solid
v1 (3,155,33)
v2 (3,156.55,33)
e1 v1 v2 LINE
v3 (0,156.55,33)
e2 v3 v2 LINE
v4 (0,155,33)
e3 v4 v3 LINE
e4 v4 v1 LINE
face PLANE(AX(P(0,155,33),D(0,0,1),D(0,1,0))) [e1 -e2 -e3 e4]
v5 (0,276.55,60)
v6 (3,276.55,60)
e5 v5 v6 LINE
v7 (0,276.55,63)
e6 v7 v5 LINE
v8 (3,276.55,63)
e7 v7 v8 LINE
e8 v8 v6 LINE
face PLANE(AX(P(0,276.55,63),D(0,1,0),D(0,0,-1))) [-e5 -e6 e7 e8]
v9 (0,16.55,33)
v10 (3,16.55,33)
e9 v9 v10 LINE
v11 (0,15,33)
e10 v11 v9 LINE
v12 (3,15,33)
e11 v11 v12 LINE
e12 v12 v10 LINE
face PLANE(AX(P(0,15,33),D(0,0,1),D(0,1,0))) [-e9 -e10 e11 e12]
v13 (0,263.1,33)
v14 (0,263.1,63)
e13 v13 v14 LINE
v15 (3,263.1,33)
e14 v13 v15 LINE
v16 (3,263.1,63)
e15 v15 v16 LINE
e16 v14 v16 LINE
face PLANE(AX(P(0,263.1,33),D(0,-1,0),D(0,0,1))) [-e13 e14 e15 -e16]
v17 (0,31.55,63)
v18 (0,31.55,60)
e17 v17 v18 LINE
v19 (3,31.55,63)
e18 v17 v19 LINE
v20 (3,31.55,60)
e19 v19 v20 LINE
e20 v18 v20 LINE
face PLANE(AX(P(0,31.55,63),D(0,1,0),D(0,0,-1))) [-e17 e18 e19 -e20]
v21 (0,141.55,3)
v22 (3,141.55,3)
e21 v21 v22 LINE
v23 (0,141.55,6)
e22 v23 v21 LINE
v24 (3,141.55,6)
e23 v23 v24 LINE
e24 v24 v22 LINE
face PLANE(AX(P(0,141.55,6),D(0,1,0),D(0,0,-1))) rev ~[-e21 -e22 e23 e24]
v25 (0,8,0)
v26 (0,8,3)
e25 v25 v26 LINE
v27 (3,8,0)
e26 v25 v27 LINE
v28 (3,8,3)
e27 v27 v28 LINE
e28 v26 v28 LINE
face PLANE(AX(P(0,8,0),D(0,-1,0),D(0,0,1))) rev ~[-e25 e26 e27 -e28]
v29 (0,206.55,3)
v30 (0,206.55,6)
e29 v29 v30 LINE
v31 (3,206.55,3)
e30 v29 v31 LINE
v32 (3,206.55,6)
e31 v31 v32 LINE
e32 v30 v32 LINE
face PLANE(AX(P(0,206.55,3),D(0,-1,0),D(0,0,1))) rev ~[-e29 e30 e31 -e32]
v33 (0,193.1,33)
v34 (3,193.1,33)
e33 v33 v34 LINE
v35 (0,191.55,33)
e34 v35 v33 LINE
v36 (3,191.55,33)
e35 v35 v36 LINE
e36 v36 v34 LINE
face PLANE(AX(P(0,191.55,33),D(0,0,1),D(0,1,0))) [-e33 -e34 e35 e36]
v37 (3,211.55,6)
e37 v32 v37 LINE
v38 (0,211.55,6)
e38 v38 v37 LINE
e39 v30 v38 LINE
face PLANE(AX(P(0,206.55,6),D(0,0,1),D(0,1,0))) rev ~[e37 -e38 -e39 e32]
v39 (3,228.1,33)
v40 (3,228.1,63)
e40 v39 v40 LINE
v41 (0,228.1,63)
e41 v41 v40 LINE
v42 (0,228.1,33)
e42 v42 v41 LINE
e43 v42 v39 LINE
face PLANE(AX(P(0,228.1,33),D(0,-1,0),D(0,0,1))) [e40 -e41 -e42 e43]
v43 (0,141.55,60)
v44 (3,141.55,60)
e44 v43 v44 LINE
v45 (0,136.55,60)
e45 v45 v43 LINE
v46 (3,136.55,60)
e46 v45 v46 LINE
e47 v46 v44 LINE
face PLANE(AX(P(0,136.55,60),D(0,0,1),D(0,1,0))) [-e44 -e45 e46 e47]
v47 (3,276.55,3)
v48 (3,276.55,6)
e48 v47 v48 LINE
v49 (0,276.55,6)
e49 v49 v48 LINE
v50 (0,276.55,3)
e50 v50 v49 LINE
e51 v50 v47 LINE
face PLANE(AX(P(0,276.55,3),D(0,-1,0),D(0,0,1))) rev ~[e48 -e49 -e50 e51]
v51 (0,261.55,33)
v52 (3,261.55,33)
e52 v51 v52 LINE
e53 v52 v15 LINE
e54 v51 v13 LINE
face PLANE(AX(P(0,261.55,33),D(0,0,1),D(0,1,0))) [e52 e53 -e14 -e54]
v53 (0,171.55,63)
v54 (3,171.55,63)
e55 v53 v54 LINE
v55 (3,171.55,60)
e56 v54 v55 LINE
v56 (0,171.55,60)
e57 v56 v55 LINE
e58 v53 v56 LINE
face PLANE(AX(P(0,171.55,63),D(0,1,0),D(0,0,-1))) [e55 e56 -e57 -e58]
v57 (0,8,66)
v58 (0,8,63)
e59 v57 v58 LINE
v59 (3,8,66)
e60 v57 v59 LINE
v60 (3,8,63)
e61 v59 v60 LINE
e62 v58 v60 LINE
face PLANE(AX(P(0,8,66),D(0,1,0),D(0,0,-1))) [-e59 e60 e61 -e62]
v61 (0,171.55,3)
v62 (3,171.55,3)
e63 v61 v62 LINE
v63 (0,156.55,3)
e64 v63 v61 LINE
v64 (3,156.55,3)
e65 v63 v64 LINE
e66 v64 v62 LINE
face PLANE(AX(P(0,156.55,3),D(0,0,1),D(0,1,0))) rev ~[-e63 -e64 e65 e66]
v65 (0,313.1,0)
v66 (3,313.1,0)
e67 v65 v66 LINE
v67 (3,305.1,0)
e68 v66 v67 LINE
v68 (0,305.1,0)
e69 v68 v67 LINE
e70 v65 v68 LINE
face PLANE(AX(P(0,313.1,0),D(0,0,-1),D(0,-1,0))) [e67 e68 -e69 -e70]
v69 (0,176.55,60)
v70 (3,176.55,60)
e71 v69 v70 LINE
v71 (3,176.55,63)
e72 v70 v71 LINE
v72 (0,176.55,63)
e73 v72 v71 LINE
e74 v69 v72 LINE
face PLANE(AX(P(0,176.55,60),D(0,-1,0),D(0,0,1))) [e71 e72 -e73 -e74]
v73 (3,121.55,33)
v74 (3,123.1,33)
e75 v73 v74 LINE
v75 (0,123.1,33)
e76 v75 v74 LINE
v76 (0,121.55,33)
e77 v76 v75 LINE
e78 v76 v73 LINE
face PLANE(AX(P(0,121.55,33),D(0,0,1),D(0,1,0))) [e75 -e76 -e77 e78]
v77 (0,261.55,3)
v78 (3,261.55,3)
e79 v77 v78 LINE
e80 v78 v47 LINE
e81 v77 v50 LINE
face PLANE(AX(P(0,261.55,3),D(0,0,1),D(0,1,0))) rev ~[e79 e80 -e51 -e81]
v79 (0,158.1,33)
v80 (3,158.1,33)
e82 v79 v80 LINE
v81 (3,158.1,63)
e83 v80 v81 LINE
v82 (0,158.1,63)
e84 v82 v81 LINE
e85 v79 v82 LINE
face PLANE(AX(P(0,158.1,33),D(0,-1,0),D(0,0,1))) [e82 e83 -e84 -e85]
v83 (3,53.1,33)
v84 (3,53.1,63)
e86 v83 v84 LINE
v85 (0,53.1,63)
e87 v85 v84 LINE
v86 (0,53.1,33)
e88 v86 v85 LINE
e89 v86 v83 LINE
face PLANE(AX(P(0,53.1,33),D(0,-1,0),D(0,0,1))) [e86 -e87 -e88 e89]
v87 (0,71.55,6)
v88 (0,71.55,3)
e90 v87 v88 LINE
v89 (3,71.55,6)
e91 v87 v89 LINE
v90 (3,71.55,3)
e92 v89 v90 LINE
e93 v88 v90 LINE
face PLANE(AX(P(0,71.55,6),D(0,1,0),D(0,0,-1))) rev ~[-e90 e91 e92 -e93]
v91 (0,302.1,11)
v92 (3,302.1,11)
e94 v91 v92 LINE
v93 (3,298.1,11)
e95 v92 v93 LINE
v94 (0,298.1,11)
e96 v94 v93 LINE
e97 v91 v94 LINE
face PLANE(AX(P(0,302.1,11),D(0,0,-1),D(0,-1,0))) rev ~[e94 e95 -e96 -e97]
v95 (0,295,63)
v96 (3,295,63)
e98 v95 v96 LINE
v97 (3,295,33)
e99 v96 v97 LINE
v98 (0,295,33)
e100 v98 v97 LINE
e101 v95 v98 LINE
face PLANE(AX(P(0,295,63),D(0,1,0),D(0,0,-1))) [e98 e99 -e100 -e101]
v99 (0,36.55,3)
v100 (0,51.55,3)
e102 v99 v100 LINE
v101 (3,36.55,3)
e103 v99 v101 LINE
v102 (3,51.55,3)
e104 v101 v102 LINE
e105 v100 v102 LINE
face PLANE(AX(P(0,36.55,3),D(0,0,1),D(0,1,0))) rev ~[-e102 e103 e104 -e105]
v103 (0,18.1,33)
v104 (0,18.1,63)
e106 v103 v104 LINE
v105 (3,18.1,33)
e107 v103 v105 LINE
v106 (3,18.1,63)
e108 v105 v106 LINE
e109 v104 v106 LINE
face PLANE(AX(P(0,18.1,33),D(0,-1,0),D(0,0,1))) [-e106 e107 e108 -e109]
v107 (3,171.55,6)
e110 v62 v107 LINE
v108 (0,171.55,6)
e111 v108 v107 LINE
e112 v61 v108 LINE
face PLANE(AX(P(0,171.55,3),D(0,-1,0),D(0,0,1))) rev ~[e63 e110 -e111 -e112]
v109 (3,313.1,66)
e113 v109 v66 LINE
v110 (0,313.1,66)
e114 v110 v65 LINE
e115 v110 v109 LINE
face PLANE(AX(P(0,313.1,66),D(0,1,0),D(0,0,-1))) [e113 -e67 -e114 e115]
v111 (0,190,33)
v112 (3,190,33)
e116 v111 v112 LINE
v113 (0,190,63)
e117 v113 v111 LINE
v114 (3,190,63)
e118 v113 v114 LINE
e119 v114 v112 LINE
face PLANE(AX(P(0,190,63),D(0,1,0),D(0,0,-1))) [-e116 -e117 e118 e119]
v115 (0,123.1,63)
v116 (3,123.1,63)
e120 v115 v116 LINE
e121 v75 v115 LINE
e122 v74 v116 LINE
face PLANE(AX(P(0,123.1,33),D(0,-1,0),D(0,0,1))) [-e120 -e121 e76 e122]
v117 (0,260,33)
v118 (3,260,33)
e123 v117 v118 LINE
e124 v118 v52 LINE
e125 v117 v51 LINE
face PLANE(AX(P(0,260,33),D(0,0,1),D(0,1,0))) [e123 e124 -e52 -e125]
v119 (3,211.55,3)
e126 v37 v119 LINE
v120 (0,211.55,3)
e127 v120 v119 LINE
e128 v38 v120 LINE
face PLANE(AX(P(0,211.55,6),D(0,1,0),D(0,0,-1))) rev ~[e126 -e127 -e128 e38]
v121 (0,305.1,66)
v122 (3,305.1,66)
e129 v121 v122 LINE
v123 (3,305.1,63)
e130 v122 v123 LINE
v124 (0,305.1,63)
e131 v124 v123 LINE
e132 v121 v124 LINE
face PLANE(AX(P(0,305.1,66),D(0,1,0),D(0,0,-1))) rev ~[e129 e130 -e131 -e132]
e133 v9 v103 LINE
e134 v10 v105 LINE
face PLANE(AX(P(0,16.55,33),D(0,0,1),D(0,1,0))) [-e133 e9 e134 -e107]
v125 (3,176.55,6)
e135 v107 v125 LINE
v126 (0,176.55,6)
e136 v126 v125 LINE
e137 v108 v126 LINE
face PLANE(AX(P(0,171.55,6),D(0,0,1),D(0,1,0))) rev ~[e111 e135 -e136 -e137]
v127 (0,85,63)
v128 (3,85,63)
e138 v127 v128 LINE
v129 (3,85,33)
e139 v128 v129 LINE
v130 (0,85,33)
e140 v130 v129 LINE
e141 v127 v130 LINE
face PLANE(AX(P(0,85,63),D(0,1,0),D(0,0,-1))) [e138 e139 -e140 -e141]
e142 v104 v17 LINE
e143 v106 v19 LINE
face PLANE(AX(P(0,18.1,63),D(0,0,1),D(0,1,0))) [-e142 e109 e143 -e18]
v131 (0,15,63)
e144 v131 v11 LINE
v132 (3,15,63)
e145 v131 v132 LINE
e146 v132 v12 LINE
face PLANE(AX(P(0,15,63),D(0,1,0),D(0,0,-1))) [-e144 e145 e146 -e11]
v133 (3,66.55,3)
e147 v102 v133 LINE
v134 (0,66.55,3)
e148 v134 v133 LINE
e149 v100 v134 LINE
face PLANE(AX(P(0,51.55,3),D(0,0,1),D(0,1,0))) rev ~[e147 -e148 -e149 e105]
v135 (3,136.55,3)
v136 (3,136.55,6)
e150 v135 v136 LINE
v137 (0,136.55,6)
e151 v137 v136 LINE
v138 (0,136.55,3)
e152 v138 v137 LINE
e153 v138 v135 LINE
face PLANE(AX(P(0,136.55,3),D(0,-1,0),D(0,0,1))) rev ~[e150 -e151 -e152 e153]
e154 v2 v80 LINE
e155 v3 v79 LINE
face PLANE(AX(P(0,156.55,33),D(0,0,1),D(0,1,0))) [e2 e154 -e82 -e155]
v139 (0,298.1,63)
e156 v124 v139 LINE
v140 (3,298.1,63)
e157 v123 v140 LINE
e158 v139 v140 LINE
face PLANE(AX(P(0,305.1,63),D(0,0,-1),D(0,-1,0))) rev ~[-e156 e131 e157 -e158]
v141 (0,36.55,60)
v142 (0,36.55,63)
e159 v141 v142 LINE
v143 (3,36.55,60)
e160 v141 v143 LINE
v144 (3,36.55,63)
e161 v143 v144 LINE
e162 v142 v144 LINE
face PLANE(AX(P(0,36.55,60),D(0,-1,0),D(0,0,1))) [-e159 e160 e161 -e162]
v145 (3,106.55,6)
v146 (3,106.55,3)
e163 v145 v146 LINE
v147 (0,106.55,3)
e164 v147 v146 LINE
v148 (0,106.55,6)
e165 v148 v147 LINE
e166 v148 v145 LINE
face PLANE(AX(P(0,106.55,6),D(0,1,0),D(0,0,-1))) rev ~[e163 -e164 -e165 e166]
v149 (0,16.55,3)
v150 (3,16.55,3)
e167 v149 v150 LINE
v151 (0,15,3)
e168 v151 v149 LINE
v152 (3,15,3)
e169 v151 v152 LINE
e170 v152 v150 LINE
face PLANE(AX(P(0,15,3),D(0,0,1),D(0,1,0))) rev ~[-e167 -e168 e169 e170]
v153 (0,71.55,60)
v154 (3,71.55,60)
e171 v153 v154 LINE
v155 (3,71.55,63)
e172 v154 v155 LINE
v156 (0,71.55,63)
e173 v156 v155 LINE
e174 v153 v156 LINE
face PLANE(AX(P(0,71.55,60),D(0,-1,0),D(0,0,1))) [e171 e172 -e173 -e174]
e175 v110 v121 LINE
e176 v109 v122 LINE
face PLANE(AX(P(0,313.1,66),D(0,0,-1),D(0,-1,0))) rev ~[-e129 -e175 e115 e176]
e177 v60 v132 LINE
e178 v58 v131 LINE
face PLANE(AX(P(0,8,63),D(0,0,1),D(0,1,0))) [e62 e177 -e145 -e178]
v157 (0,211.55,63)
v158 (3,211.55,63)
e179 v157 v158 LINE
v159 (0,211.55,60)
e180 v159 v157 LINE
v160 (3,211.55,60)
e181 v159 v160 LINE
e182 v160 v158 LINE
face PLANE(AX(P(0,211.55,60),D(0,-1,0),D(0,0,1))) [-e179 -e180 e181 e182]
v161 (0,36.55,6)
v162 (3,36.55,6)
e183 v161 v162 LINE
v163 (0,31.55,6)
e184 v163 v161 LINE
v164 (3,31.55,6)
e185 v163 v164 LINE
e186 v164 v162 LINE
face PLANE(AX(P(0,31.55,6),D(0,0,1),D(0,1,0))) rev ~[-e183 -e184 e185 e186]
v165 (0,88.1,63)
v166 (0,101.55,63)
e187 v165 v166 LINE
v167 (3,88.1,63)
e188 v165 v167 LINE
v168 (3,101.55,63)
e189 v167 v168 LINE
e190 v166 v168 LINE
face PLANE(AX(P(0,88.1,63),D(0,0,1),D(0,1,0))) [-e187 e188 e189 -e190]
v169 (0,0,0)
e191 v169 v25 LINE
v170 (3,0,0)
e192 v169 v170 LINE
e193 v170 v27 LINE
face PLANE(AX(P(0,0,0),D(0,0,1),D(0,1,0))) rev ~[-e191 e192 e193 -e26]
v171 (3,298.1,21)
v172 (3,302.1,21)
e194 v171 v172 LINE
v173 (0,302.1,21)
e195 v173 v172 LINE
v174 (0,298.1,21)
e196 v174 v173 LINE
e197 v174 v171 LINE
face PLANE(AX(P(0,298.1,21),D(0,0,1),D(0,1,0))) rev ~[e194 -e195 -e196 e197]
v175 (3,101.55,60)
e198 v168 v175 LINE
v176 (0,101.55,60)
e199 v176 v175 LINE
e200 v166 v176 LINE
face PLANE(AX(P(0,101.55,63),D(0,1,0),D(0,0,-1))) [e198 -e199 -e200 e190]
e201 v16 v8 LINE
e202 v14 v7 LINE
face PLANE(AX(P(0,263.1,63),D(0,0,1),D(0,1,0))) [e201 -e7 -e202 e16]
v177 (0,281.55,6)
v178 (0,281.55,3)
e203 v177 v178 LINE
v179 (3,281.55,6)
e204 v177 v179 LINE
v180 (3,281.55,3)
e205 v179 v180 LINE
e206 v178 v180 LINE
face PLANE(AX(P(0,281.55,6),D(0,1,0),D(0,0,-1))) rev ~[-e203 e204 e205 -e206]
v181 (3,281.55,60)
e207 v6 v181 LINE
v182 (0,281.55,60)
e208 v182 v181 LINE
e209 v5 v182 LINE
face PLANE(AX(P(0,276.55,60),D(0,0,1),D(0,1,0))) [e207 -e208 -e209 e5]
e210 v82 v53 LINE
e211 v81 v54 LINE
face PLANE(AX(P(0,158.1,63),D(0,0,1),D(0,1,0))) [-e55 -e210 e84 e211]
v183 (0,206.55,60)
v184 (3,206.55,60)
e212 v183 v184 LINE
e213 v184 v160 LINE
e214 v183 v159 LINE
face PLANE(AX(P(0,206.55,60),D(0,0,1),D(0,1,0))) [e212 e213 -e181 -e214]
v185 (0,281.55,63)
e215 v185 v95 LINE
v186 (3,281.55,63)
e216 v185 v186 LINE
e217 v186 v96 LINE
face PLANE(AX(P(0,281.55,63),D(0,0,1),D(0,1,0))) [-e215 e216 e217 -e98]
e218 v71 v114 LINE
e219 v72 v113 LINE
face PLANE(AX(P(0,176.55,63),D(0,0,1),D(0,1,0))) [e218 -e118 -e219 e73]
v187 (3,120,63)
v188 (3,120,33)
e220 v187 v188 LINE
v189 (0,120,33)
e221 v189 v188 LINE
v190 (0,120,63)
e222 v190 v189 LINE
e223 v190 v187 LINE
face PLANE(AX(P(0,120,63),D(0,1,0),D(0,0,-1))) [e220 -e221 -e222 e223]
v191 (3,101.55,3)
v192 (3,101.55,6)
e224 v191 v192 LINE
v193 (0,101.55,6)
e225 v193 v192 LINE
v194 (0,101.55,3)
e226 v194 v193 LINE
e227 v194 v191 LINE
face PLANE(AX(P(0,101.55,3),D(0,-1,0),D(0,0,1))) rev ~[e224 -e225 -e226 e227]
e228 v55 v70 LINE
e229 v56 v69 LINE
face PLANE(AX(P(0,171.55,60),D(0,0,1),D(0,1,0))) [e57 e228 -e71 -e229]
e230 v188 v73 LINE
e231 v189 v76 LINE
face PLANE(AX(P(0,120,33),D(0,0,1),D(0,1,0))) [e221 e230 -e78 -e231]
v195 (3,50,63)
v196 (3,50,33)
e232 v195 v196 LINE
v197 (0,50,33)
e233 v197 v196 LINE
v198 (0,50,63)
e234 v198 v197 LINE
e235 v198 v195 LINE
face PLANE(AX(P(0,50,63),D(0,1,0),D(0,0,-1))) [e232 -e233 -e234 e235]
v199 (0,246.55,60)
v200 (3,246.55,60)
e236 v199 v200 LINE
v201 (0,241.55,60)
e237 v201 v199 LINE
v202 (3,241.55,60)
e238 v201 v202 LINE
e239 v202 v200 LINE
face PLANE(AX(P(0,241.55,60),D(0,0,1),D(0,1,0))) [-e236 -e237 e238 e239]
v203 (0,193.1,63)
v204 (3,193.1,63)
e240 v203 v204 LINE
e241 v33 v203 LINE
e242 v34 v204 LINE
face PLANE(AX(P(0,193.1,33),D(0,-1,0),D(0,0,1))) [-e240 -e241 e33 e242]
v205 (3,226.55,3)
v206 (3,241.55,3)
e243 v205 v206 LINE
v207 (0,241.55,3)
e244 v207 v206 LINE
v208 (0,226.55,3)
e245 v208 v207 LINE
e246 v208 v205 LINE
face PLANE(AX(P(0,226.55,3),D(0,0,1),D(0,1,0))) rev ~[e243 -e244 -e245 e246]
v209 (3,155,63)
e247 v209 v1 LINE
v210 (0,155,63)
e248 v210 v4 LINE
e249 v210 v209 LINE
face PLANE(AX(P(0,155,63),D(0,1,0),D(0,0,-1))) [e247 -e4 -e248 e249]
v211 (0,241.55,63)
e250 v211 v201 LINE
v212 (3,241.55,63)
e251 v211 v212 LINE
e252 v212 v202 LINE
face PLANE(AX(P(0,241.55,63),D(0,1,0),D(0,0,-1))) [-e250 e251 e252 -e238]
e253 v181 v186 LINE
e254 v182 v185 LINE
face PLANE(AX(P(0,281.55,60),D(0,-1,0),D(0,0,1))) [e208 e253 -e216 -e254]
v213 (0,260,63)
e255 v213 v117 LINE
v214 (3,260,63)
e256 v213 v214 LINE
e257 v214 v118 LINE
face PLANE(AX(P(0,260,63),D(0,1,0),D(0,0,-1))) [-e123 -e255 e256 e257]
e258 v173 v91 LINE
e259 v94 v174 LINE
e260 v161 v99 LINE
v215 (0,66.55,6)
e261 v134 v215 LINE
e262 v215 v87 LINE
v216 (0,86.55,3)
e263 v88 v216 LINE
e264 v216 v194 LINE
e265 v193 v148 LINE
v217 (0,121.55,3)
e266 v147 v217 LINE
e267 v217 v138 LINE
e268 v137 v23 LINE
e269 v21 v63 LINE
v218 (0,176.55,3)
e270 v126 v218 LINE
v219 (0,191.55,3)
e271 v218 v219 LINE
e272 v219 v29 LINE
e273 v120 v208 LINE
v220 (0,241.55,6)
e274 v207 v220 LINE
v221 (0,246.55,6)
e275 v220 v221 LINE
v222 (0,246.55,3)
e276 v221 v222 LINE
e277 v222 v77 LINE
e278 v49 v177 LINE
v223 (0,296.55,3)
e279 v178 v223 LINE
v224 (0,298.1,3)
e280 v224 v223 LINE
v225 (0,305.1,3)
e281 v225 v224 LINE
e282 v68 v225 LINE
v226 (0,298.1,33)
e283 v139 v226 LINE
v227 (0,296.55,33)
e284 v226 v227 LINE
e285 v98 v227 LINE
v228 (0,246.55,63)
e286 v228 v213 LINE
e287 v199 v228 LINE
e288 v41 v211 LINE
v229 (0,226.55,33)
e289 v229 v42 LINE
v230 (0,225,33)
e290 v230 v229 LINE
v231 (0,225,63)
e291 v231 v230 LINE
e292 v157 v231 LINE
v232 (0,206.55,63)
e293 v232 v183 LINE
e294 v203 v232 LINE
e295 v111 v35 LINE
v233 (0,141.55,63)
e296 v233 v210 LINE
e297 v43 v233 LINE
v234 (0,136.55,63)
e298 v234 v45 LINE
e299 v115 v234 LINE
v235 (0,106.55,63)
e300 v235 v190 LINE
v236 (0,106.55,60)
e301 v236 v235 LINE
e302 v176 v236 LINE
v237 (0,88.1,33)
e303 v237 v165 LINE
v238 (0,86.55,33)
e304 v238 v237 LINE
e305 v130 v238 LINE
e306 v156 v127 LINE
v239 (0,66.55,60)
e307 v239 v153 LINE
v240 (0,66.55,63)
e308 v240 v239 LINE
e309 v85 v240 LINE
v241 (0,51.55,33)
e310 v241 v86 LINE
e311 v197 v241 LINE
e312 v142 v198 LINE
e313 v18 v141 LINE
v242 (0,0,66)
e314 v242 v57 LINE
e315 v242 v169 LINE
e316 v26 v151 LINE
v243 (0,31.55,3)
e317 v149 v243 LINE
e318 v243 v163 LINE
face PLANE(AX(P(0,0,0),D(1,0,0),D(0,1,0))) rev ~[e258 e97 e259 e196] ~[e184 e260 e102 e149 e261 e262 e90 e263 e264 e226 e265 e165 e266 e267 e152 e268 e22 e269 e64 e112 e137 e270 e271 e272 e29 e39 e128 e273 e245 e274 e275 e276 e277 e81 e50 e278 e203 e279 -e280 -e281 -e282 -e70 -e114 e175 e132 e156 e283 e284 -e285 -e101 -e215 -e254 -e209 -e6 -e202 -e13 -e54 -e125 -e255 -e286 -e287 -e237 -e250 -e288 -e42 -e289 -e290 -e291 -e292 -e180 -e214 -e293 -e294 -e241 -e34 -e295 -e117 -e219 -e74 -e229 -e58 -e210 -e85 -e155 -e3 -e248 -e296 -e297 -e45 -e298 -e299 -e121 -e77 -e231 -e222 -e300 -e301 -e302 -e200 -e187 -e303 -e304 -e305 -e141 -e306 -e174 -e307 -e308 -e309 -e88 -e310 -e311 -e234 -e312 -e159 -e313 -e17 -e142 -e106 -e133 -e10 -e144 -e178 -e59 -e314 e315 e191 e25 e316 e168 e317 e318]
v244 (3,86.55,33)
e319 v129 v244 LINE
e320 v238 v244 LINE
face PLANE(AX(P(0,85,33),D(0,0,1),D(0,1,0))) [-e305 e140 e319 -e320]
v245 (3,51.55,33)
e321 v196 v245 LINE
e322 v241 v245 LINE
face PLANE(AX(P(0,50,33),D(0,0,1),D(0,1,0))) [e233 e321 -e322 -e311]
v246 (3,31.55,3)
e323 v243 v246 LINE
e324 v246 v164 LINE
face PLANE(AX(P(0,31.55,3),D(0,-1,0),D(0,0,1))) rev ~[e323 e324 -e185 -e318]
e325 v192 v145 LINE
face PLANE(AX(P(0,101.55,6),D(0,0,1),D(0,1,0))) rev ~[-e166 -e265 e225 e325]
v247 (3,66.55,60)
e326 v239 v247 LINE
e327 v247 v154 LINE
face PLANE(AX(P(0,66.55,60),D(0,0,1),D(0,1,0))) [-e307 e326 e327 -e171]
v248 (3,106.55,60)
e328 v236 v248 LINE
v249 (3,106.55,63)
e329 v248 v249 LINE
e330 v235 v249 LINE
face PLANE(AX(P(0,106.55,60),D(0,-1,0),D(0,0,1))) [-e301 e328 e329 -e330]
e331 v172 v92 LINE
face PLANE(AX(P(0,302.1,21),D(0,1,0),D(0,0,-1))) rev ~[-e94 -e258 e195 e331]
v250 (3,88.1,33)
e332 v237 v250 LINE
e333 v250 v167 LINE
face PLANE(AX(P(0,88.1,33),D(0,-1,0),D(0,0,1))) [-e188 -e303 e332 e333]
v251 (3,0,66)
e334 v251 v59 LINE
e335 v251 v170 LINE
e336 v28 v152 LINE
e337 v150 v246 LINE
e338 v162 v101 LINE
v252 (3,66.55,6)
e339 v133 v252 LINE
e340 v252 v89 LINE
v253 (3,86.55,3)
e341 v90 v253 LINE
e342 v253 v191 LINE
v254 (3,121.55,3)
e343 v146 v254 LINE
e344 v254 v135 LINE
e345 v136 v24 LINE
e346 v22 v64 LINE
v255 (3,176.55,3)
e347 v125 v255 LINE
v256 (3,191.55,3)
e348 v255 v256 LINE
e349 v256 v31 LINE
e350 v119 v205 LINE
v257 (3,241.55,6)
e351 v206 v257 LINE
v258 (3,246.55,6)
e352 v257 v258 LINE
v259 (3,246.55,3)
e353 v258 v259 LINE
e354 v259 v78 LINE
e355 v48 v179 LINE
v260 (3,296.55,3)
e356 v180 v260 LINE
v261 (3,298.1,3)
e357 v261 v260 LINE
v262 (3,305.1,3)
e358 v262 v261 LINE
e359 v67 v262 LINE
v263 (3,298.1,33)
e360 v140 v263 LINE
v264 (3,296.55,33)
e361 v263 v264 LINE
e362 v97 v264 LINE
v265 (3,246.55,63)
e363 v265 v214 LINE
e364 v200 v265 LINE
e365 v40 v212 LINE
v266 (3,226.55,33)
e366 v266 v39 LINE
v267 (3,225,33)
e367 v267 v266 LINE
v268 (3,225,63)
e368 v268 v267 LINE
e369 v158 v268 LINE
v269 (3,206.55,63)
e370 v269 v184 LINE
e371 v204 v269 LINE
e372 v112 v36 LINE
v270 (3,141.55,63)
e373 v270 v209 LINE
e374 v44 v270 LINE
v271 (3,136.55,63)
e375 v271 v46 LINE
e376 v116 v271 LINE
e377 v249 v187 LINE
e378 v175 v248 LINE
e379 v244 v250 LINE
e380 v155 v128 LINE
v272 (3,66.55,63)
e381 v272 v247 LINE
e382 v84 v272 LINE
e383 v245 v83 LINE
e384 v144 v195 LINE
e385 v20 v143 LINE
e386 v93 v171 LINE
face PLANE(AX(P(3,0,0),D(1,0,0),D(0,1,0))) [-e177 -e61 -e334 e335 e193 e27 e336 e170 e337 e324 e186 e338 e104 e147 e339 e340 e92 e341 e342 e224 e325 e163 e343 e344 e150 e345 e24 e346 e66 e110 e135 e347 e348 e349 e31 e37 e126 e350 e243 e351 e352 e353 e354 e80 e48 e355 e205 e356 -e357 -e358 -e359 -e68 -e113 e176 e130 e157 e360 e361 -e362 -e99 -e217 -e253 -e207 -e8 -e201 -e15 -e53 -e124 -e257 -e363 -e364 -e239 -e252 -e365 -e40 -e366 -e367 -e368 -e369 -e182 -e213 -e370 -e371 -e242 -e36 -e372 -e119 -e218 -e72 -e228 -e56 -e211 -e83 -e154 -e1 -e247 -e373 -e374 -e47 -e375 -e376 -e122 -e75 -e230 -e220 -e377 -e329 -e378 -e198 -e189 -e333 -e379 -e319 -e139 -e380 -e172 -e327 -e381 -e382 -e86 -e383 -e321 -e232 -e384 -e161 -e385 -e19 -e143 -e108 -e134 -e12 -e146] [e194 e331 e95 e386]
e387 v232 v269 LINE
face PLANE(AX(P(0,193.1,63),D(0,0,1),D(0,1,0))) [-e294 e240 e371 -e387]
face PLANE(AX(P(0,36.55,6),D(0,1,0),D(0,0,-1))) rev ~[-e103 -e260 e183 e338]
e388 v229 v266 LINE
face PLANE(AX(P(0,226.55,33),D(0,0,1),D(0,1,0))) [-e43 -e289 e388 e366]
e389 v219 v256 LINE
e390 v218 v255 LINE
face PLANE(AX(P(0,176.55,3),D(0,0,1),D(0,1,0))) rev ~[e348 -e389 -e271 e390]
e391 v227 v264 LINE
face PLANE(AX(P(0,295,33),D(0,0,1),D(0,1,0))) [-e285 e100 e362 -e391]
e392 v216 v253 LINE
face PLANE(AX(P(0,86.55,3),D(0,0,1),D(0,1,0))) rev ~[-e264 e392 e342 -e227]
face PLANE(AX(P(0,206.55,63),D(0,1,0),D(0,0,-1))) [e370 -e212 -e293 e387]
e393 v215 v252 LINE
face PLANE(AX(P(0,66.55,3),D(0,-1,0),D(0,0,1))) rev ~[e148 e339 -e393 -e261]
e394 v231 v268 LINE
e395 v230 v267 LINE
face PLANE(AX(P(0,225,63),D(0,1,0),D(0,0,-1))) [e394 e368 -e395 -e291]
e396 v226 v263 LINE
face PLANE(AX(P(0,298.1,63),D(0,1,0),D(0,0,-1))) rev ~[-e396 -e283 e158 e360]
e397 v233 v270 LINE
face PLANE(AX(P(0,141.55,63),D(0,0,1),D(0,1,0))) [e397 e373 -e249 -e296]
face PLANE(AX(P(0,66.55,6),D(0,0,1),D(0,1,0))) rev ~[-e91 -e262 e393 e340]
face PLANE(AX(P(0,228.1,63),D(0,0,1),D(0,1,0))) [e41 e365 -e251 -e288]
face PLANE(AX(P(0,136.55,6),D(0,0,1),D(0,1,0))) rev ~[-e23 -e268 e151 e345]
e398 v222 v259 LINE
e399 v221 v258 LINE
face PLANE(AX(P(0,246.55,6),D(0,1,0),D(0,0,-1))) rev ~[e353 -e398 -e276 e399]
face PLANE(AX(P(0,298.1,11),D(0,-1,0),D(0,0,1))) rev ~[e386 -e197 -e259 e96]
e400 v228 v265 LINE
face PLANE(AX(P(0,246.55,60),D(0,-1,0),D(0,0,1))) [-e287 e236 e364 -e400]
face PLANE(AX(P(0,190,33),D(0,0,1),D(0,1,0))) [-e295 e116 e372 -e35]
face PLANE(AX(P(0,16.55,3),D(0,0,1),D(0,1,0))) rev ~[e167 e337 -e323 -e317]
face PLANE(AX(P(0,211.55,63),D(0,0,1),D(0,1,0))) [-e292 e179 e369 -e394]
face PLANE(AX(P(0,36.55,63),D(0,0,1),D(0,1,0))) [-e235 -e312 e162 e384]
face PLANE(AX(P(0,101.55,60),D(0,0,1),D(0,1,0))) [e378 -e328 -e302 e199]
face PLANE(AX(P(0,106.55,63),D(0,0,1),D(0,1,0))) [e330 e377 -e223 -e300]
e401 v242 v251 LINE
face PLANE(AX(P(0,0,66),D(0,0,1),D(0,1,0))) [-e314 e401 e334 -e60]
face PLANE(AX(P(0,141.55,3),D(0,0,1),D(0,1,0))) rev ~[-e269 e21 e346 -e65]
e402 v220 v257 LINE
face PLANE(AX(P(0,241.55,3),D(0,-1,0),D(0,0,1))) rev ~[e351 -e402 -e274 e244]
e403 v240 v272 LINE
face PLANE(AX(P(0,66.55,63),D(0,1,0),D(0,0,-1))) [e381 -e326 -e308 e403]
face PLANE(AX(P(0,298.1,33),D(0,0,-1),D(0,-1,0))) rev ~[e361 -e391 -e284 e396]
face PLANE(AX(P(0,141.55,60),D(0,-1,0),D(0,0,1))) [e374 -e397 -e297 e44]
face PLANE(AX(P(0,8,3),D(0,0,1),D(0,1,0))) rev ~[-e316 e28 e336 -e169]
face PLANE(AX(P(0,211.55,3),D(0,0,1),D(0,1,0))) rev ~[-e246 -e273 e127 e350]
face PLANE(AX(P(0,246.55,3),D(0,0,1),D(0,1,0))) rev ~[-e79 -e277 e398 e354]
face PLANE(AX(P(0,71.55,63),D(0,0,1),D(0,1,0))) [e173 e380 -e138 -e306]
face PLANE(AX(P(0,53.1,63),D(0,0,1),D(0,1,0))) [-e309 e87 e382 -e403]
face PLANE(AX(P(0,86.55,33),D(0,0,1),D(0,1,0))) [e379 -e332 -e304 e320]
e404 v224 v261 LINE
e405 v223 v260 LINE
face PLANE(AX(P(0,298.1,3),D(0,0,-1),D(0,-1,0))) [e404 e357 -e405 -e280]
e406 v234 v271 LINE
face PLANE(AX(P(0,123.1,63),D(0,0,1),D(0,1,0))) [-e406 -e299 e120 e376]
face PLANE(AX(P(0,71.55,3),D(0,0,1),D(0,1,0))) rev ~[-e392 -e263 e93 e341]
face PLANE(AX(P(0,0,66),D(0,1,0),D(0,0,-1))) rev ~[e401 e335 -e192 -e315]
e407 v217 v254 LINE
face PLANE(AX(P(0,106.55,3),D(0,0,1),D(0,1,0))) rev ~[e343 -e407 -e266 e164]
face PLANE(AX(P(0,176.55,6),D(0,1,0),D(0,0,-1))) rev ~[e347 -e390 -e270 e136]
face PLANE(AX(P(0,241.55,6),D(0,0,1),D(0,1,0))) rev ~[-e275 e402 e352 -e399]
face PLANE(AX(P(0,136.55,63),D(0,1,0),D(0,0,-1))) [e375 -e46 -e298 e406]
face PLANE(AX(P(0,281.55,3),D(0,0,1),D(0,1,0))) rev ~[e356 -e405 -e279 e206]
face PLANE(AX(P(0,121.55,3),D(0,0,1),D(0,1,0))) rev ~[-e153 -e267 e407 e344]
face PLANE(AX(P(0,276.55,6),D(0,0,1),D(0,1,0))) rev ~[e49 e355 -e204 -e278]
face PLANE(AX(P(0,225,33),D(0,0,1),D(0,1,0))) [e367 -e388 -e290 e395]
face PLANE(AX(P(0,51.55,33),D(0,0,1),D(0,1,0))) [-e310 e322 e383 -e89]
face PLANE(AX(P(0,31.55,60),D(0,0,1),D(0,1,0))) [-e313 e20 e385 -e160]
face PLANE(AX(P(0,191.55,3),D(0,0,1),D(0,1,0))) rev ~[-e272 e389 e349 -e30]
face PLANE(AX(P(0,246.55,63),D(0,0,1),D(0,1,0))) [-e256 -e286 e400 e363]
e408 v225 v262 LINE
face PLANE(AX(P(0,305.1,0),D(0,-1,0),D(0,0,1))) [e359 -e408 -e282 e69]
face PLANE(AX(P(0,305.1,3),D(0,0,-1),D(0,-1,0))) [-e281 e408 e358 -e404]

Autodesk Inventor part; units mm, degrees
ref_plane "YZ Plane" through (0, 0, 0) normal (1, 0, 0) x (0, 1, 0)
ref_plane "XZ Plane" through (0, 0, 0) normal (0, 1, 0) x (-1, 0, 0)
ref_plane "XY Plane" through (0, 0, 0) normal (0, 0, 1) x (1, 0, 0)
sketch "Sketch1" plane through (0, 0, 0) normal (1, 0, 0) x (0, 1, 0)
  line L0 (0, 66) -> (0, 0)
  line L1 (15, 63) -> (15, 33)
  line L2 (15, 33) -> (16.55, 33)
  line L3 (16.55, 33) -> (18.1, 33)
  line L4 (18.1, 33) -> (18.1, 63)
  line L5 (18.1, 63) -> (31.55, 63)
  line L6 (31.55, 63) -> (31.55, 60)
  line L7 (31.55, 60) -> (36.55, 60)
  line L8 (36.55, 60) -> (36.55, 63)
  line L9 (36.55, 63) -> (50, 63)
  line L10 (50, 63) -> (50, 33)
  line L11 (50, 33) -> (51.55, 33)
  line L12 (16.55, 3) -> (31.55, 3)
  line L13 (31.55, 3) -> (31.55, 6)
  line L14 (31.55, 6) -> (36.55, 6)
  line L15 (36.55, 6) -> (36.55, 3)
  line L16 (36.55, 3) -> (51.55, 3)
  line L17 (51.55, 33) -> (53.1, 33)
  line L18 (53.1, 33) -> (53.1, 63)
  line L19 (53.1, 63) -> (66.55, 63)
  line L20 (66.55, 60) -> (71.55, 60)
  line L21 (66.55, 63) -> (66.55, 60)
  line L22 (71.55, 60) -> (71.55, 63)
  line L23 (71.55, 63) -> (85, 63)
  line L24 (85, 63) -> (85, 33)
  line L25 (85, 33) -> (86.55, 33)
  line L26 (71.55, 3) -> (86.55, 3)
  line L27 (66.55, 6) -> (71.55, 6)
  line L28 (71.55, 6) -> (71.55, 3)
  line L29 (66.55, 3) -> (66.55, 6)
  line L30 (51.55, 3) -> (66.55, 3)
  line L31 (86.55, 33) -> (88.1, 33)
  line L32 (88.1, 33) -> (88.1, 63)
  line L33 (88.1, 63) -> (101.55, 63)
  line L34 (101.55, 60) -> (106.55, 60)
  line L35 (101.55, 63) -> (101.55, 60)
  line L36 (106.55, 60) -> (106.55, 63)
  line L37 (106.55, 63) -> (120, 63)
  line L38 (120, 63) -> (120, 33)
  line L39 (120, 33) -> (121.55, 33)
  line L40 (106.55, 3) -> (121.55, 3)
  line L41 (101.55, 6) -> (106.55, 6)
  line L42 (106.55, 6) -> (106.55, 3)
  line L43 (101.55, 3) -> (101.55, 6)
  line L44 (86.55, 3) -> (101.55, 3)
  line L45 (121.55, 33) -> (123.1, 33)
  line L46 (123.1, 33) -> (123.1, 63)
  line L47 (123.1, 63) -> (136.55, 63)
  line L48 (136.55, 60) -> (141.55, 60)
  line L49 (136.55, 63) -> (136.55, 60)
  line L50 (141.55, 60) -> (141.55, 63)
  line L51 (141.55, 63) -> (155, 63)
  line L52 (155, 63) -> (155, 33)
  line L53 (155, 33) -> (156.55, 33)
  line L54 (141.55, 3) -> (156.55, 3)
  line L55 (136.55, 6) -> (141.55, 6)
  line L56 (141.55, 6) -> (141.55, 3)
  line L57 (136.55, 3) -> (136.55, 6)
  line L58 (121.55, 3) -> (136.55, 3)
  line L59 (156.55, 33) -> (158.1, 33)
  line L60 (158.1, 33) -> (158.1, 63)
  line L61 (158.1, 63) -> (171.55, 63)
  line L62 (171.55, 60) -> (176.55, 60)
  line L63 (171.55, 63) -> (171.55, 60)
  line L64 (176.55, 60) -> (176.55, 63)
  line L65 (176.55, 63) -> (190, 63)
  line L66 (190, 63) -> (190, 33)
  line L67 (190, 33) -> (191.55, 33)
  line L68 (176.55, 3) -> (191.55, 3)
  line L69 (171.55, 6) -> (176.55, 6)
  line L70 (176.55, 6) -> (176.55, 3)
  line L71 (171.55, 3) -> (171.55, 6)
  line L72 (156.55, 3) -> (171.55, 3)
  line L73 (191.55, 33) -> (193.1, 33)
  line L74 (193.1, 33) -> (193.1, 63)
  line L75 (193.1, 63) -> (206.55, 63)
  line L76 (206.55, 60) -> (211.55, 60)
  line L77 (206.55, 63) -> (206.55, 60)
  line L78 (211.55, 60) -> (211.55, 63)
  line L79 (211.55, 63) -> (225, 63)
  line L80 (225, 63) -> (225, 33)
  line L81 (225, 33) -> (226.55, 33)
  line L82 (211.55, 3) -> (226.55, 3)
  line L83 (206.55, 6) -> (211.55, 6)
  line L84 (211.55, 6) -> (211.55, 3)
  line L85 (206.55, 3) -> (206.55, 6)
  line L86 (191.55, 3) -> (206.55, 3)
  line L87 (226.55, 33) -> (228.1, 33)
  line L88 (228.1, 33) -> (228.1, 63)
  line L89 (228.1, 63) -> (241.55, 63)
  line L90 (241.55, 60) -> (246.55, 60)
  line L91 (241.55, 63) -> (241.55, 60)
  line L92 (246.55, 60) -> (246.55, 63)
  line L93 (246.55, 63) -> (260, 63)
  line L94 (260, 63) -> (260, 33)
  line L95 (260, 33) -> (261.55, 33)
  line L96 (246.55, 3) -> (261.55, 3)
  line L97 (241.55, 6) -> (246.55, 6)
  line L98 (246.55, 6) -> (246.55, 3)
  line L99 (241.55, 3) -> (241.55, 6)
  line L100 (226.55, 3) -> (241.55, 3)
  line L101 (261.55, 33) -> (263.1, 33)
  line L102 (263.1, 33) -> (263.1, 63)
  line L103 (263.1, 63) -> (276.55, 63)
  line L104 (276.55, 60) -> (281.55, 60)
  line L105 (276.55, 63) -> (276.55, 60)
  line L106 (281.55, 60) -> (281.55, 63)
  line L107 (281.55, 63) -> (295, 63)
  line L108 (295, 63) -> (295, 33)
  line L109 (295, 33) -> (296.55, 33)
  line L110 (281.55, 3) -> (296.55, 3)
  line L111 (276.55, 6) -> (281.55, 6)
  line L112 (281.55, 6) -> (281.55, 3)
  line L113 (276.55, 3) -> (276.55, 6)
  line L114 (261.55, 3) -> (276.55, 3)
  line L115 (156.55, 3) -> (156.55, 33) construction
  line L116 (15, 3) -> (16.55, 3)
  line L117 (0, 66) -> (8, 66)
  line L118 (8, 66) -> (8, 63)
  line L119 (8, 63) -> (15, 63)
  line L120 (0, 0) -> (8, 0)
  line L121 (8, 0) -> (8, 3)
  line L122 (8, 3) -> (16.55, 3)
  line L123 (313.1, 66) -> (313.1, 0)
  line L124 (298.1, 63) -> (298.1, 33)
  line L125 (298.1, 33) -> (296.55, 33)
  line L126 (298.1, 3) -> (296.55, 3)
  line L127 (313.1, 66) -> (305.1, 66)
  line L128 (305.1, 66) -> (305.1, 63)
  line L129 (305.1, 63) -> (298.1, 63)
  line L130 (313.1, 0) -> (305.1, 0)
  line L131 (305.1, 0) -> (305.1, 3)
  line L132 (305.1, 3) -> (296.55, 3)
  line L133 (298.1, 21) -> (302.1, 21)
  line L134 (302.1, 21) -> (302.1, 11)
  line L135 (302.1, 11) -> (298.1, 11)
  line L136 (298.1, 11) -> (298.1, 21)
  point P0 (15.775, 33)
  point P1 (297.325, 33)
  dimension "d36" = 1.55
  dimension "d37" = 1.55
  dimension "d39" = 5
  dimension "d41" = 1.55
  dimension "d42" = 35
  dimension "d43" = 5
  dimension "d45" = 3
  dimension "d46" = 35
  dimension "d51" = 35
  dimension "d61" = 30
  dimension "d62" = 60
  dimension "d63" = 3
  dimension "d66" = 3
  dimension "d67" = 8
  dimension "d68" = 7
  dimension "d69" = 4
  dimension "d70" = 10
  dimension "d71" = 8
extrude "Extrusion1" add sketch "Sketch1" along normal blind 3
properties part number "Separators"
